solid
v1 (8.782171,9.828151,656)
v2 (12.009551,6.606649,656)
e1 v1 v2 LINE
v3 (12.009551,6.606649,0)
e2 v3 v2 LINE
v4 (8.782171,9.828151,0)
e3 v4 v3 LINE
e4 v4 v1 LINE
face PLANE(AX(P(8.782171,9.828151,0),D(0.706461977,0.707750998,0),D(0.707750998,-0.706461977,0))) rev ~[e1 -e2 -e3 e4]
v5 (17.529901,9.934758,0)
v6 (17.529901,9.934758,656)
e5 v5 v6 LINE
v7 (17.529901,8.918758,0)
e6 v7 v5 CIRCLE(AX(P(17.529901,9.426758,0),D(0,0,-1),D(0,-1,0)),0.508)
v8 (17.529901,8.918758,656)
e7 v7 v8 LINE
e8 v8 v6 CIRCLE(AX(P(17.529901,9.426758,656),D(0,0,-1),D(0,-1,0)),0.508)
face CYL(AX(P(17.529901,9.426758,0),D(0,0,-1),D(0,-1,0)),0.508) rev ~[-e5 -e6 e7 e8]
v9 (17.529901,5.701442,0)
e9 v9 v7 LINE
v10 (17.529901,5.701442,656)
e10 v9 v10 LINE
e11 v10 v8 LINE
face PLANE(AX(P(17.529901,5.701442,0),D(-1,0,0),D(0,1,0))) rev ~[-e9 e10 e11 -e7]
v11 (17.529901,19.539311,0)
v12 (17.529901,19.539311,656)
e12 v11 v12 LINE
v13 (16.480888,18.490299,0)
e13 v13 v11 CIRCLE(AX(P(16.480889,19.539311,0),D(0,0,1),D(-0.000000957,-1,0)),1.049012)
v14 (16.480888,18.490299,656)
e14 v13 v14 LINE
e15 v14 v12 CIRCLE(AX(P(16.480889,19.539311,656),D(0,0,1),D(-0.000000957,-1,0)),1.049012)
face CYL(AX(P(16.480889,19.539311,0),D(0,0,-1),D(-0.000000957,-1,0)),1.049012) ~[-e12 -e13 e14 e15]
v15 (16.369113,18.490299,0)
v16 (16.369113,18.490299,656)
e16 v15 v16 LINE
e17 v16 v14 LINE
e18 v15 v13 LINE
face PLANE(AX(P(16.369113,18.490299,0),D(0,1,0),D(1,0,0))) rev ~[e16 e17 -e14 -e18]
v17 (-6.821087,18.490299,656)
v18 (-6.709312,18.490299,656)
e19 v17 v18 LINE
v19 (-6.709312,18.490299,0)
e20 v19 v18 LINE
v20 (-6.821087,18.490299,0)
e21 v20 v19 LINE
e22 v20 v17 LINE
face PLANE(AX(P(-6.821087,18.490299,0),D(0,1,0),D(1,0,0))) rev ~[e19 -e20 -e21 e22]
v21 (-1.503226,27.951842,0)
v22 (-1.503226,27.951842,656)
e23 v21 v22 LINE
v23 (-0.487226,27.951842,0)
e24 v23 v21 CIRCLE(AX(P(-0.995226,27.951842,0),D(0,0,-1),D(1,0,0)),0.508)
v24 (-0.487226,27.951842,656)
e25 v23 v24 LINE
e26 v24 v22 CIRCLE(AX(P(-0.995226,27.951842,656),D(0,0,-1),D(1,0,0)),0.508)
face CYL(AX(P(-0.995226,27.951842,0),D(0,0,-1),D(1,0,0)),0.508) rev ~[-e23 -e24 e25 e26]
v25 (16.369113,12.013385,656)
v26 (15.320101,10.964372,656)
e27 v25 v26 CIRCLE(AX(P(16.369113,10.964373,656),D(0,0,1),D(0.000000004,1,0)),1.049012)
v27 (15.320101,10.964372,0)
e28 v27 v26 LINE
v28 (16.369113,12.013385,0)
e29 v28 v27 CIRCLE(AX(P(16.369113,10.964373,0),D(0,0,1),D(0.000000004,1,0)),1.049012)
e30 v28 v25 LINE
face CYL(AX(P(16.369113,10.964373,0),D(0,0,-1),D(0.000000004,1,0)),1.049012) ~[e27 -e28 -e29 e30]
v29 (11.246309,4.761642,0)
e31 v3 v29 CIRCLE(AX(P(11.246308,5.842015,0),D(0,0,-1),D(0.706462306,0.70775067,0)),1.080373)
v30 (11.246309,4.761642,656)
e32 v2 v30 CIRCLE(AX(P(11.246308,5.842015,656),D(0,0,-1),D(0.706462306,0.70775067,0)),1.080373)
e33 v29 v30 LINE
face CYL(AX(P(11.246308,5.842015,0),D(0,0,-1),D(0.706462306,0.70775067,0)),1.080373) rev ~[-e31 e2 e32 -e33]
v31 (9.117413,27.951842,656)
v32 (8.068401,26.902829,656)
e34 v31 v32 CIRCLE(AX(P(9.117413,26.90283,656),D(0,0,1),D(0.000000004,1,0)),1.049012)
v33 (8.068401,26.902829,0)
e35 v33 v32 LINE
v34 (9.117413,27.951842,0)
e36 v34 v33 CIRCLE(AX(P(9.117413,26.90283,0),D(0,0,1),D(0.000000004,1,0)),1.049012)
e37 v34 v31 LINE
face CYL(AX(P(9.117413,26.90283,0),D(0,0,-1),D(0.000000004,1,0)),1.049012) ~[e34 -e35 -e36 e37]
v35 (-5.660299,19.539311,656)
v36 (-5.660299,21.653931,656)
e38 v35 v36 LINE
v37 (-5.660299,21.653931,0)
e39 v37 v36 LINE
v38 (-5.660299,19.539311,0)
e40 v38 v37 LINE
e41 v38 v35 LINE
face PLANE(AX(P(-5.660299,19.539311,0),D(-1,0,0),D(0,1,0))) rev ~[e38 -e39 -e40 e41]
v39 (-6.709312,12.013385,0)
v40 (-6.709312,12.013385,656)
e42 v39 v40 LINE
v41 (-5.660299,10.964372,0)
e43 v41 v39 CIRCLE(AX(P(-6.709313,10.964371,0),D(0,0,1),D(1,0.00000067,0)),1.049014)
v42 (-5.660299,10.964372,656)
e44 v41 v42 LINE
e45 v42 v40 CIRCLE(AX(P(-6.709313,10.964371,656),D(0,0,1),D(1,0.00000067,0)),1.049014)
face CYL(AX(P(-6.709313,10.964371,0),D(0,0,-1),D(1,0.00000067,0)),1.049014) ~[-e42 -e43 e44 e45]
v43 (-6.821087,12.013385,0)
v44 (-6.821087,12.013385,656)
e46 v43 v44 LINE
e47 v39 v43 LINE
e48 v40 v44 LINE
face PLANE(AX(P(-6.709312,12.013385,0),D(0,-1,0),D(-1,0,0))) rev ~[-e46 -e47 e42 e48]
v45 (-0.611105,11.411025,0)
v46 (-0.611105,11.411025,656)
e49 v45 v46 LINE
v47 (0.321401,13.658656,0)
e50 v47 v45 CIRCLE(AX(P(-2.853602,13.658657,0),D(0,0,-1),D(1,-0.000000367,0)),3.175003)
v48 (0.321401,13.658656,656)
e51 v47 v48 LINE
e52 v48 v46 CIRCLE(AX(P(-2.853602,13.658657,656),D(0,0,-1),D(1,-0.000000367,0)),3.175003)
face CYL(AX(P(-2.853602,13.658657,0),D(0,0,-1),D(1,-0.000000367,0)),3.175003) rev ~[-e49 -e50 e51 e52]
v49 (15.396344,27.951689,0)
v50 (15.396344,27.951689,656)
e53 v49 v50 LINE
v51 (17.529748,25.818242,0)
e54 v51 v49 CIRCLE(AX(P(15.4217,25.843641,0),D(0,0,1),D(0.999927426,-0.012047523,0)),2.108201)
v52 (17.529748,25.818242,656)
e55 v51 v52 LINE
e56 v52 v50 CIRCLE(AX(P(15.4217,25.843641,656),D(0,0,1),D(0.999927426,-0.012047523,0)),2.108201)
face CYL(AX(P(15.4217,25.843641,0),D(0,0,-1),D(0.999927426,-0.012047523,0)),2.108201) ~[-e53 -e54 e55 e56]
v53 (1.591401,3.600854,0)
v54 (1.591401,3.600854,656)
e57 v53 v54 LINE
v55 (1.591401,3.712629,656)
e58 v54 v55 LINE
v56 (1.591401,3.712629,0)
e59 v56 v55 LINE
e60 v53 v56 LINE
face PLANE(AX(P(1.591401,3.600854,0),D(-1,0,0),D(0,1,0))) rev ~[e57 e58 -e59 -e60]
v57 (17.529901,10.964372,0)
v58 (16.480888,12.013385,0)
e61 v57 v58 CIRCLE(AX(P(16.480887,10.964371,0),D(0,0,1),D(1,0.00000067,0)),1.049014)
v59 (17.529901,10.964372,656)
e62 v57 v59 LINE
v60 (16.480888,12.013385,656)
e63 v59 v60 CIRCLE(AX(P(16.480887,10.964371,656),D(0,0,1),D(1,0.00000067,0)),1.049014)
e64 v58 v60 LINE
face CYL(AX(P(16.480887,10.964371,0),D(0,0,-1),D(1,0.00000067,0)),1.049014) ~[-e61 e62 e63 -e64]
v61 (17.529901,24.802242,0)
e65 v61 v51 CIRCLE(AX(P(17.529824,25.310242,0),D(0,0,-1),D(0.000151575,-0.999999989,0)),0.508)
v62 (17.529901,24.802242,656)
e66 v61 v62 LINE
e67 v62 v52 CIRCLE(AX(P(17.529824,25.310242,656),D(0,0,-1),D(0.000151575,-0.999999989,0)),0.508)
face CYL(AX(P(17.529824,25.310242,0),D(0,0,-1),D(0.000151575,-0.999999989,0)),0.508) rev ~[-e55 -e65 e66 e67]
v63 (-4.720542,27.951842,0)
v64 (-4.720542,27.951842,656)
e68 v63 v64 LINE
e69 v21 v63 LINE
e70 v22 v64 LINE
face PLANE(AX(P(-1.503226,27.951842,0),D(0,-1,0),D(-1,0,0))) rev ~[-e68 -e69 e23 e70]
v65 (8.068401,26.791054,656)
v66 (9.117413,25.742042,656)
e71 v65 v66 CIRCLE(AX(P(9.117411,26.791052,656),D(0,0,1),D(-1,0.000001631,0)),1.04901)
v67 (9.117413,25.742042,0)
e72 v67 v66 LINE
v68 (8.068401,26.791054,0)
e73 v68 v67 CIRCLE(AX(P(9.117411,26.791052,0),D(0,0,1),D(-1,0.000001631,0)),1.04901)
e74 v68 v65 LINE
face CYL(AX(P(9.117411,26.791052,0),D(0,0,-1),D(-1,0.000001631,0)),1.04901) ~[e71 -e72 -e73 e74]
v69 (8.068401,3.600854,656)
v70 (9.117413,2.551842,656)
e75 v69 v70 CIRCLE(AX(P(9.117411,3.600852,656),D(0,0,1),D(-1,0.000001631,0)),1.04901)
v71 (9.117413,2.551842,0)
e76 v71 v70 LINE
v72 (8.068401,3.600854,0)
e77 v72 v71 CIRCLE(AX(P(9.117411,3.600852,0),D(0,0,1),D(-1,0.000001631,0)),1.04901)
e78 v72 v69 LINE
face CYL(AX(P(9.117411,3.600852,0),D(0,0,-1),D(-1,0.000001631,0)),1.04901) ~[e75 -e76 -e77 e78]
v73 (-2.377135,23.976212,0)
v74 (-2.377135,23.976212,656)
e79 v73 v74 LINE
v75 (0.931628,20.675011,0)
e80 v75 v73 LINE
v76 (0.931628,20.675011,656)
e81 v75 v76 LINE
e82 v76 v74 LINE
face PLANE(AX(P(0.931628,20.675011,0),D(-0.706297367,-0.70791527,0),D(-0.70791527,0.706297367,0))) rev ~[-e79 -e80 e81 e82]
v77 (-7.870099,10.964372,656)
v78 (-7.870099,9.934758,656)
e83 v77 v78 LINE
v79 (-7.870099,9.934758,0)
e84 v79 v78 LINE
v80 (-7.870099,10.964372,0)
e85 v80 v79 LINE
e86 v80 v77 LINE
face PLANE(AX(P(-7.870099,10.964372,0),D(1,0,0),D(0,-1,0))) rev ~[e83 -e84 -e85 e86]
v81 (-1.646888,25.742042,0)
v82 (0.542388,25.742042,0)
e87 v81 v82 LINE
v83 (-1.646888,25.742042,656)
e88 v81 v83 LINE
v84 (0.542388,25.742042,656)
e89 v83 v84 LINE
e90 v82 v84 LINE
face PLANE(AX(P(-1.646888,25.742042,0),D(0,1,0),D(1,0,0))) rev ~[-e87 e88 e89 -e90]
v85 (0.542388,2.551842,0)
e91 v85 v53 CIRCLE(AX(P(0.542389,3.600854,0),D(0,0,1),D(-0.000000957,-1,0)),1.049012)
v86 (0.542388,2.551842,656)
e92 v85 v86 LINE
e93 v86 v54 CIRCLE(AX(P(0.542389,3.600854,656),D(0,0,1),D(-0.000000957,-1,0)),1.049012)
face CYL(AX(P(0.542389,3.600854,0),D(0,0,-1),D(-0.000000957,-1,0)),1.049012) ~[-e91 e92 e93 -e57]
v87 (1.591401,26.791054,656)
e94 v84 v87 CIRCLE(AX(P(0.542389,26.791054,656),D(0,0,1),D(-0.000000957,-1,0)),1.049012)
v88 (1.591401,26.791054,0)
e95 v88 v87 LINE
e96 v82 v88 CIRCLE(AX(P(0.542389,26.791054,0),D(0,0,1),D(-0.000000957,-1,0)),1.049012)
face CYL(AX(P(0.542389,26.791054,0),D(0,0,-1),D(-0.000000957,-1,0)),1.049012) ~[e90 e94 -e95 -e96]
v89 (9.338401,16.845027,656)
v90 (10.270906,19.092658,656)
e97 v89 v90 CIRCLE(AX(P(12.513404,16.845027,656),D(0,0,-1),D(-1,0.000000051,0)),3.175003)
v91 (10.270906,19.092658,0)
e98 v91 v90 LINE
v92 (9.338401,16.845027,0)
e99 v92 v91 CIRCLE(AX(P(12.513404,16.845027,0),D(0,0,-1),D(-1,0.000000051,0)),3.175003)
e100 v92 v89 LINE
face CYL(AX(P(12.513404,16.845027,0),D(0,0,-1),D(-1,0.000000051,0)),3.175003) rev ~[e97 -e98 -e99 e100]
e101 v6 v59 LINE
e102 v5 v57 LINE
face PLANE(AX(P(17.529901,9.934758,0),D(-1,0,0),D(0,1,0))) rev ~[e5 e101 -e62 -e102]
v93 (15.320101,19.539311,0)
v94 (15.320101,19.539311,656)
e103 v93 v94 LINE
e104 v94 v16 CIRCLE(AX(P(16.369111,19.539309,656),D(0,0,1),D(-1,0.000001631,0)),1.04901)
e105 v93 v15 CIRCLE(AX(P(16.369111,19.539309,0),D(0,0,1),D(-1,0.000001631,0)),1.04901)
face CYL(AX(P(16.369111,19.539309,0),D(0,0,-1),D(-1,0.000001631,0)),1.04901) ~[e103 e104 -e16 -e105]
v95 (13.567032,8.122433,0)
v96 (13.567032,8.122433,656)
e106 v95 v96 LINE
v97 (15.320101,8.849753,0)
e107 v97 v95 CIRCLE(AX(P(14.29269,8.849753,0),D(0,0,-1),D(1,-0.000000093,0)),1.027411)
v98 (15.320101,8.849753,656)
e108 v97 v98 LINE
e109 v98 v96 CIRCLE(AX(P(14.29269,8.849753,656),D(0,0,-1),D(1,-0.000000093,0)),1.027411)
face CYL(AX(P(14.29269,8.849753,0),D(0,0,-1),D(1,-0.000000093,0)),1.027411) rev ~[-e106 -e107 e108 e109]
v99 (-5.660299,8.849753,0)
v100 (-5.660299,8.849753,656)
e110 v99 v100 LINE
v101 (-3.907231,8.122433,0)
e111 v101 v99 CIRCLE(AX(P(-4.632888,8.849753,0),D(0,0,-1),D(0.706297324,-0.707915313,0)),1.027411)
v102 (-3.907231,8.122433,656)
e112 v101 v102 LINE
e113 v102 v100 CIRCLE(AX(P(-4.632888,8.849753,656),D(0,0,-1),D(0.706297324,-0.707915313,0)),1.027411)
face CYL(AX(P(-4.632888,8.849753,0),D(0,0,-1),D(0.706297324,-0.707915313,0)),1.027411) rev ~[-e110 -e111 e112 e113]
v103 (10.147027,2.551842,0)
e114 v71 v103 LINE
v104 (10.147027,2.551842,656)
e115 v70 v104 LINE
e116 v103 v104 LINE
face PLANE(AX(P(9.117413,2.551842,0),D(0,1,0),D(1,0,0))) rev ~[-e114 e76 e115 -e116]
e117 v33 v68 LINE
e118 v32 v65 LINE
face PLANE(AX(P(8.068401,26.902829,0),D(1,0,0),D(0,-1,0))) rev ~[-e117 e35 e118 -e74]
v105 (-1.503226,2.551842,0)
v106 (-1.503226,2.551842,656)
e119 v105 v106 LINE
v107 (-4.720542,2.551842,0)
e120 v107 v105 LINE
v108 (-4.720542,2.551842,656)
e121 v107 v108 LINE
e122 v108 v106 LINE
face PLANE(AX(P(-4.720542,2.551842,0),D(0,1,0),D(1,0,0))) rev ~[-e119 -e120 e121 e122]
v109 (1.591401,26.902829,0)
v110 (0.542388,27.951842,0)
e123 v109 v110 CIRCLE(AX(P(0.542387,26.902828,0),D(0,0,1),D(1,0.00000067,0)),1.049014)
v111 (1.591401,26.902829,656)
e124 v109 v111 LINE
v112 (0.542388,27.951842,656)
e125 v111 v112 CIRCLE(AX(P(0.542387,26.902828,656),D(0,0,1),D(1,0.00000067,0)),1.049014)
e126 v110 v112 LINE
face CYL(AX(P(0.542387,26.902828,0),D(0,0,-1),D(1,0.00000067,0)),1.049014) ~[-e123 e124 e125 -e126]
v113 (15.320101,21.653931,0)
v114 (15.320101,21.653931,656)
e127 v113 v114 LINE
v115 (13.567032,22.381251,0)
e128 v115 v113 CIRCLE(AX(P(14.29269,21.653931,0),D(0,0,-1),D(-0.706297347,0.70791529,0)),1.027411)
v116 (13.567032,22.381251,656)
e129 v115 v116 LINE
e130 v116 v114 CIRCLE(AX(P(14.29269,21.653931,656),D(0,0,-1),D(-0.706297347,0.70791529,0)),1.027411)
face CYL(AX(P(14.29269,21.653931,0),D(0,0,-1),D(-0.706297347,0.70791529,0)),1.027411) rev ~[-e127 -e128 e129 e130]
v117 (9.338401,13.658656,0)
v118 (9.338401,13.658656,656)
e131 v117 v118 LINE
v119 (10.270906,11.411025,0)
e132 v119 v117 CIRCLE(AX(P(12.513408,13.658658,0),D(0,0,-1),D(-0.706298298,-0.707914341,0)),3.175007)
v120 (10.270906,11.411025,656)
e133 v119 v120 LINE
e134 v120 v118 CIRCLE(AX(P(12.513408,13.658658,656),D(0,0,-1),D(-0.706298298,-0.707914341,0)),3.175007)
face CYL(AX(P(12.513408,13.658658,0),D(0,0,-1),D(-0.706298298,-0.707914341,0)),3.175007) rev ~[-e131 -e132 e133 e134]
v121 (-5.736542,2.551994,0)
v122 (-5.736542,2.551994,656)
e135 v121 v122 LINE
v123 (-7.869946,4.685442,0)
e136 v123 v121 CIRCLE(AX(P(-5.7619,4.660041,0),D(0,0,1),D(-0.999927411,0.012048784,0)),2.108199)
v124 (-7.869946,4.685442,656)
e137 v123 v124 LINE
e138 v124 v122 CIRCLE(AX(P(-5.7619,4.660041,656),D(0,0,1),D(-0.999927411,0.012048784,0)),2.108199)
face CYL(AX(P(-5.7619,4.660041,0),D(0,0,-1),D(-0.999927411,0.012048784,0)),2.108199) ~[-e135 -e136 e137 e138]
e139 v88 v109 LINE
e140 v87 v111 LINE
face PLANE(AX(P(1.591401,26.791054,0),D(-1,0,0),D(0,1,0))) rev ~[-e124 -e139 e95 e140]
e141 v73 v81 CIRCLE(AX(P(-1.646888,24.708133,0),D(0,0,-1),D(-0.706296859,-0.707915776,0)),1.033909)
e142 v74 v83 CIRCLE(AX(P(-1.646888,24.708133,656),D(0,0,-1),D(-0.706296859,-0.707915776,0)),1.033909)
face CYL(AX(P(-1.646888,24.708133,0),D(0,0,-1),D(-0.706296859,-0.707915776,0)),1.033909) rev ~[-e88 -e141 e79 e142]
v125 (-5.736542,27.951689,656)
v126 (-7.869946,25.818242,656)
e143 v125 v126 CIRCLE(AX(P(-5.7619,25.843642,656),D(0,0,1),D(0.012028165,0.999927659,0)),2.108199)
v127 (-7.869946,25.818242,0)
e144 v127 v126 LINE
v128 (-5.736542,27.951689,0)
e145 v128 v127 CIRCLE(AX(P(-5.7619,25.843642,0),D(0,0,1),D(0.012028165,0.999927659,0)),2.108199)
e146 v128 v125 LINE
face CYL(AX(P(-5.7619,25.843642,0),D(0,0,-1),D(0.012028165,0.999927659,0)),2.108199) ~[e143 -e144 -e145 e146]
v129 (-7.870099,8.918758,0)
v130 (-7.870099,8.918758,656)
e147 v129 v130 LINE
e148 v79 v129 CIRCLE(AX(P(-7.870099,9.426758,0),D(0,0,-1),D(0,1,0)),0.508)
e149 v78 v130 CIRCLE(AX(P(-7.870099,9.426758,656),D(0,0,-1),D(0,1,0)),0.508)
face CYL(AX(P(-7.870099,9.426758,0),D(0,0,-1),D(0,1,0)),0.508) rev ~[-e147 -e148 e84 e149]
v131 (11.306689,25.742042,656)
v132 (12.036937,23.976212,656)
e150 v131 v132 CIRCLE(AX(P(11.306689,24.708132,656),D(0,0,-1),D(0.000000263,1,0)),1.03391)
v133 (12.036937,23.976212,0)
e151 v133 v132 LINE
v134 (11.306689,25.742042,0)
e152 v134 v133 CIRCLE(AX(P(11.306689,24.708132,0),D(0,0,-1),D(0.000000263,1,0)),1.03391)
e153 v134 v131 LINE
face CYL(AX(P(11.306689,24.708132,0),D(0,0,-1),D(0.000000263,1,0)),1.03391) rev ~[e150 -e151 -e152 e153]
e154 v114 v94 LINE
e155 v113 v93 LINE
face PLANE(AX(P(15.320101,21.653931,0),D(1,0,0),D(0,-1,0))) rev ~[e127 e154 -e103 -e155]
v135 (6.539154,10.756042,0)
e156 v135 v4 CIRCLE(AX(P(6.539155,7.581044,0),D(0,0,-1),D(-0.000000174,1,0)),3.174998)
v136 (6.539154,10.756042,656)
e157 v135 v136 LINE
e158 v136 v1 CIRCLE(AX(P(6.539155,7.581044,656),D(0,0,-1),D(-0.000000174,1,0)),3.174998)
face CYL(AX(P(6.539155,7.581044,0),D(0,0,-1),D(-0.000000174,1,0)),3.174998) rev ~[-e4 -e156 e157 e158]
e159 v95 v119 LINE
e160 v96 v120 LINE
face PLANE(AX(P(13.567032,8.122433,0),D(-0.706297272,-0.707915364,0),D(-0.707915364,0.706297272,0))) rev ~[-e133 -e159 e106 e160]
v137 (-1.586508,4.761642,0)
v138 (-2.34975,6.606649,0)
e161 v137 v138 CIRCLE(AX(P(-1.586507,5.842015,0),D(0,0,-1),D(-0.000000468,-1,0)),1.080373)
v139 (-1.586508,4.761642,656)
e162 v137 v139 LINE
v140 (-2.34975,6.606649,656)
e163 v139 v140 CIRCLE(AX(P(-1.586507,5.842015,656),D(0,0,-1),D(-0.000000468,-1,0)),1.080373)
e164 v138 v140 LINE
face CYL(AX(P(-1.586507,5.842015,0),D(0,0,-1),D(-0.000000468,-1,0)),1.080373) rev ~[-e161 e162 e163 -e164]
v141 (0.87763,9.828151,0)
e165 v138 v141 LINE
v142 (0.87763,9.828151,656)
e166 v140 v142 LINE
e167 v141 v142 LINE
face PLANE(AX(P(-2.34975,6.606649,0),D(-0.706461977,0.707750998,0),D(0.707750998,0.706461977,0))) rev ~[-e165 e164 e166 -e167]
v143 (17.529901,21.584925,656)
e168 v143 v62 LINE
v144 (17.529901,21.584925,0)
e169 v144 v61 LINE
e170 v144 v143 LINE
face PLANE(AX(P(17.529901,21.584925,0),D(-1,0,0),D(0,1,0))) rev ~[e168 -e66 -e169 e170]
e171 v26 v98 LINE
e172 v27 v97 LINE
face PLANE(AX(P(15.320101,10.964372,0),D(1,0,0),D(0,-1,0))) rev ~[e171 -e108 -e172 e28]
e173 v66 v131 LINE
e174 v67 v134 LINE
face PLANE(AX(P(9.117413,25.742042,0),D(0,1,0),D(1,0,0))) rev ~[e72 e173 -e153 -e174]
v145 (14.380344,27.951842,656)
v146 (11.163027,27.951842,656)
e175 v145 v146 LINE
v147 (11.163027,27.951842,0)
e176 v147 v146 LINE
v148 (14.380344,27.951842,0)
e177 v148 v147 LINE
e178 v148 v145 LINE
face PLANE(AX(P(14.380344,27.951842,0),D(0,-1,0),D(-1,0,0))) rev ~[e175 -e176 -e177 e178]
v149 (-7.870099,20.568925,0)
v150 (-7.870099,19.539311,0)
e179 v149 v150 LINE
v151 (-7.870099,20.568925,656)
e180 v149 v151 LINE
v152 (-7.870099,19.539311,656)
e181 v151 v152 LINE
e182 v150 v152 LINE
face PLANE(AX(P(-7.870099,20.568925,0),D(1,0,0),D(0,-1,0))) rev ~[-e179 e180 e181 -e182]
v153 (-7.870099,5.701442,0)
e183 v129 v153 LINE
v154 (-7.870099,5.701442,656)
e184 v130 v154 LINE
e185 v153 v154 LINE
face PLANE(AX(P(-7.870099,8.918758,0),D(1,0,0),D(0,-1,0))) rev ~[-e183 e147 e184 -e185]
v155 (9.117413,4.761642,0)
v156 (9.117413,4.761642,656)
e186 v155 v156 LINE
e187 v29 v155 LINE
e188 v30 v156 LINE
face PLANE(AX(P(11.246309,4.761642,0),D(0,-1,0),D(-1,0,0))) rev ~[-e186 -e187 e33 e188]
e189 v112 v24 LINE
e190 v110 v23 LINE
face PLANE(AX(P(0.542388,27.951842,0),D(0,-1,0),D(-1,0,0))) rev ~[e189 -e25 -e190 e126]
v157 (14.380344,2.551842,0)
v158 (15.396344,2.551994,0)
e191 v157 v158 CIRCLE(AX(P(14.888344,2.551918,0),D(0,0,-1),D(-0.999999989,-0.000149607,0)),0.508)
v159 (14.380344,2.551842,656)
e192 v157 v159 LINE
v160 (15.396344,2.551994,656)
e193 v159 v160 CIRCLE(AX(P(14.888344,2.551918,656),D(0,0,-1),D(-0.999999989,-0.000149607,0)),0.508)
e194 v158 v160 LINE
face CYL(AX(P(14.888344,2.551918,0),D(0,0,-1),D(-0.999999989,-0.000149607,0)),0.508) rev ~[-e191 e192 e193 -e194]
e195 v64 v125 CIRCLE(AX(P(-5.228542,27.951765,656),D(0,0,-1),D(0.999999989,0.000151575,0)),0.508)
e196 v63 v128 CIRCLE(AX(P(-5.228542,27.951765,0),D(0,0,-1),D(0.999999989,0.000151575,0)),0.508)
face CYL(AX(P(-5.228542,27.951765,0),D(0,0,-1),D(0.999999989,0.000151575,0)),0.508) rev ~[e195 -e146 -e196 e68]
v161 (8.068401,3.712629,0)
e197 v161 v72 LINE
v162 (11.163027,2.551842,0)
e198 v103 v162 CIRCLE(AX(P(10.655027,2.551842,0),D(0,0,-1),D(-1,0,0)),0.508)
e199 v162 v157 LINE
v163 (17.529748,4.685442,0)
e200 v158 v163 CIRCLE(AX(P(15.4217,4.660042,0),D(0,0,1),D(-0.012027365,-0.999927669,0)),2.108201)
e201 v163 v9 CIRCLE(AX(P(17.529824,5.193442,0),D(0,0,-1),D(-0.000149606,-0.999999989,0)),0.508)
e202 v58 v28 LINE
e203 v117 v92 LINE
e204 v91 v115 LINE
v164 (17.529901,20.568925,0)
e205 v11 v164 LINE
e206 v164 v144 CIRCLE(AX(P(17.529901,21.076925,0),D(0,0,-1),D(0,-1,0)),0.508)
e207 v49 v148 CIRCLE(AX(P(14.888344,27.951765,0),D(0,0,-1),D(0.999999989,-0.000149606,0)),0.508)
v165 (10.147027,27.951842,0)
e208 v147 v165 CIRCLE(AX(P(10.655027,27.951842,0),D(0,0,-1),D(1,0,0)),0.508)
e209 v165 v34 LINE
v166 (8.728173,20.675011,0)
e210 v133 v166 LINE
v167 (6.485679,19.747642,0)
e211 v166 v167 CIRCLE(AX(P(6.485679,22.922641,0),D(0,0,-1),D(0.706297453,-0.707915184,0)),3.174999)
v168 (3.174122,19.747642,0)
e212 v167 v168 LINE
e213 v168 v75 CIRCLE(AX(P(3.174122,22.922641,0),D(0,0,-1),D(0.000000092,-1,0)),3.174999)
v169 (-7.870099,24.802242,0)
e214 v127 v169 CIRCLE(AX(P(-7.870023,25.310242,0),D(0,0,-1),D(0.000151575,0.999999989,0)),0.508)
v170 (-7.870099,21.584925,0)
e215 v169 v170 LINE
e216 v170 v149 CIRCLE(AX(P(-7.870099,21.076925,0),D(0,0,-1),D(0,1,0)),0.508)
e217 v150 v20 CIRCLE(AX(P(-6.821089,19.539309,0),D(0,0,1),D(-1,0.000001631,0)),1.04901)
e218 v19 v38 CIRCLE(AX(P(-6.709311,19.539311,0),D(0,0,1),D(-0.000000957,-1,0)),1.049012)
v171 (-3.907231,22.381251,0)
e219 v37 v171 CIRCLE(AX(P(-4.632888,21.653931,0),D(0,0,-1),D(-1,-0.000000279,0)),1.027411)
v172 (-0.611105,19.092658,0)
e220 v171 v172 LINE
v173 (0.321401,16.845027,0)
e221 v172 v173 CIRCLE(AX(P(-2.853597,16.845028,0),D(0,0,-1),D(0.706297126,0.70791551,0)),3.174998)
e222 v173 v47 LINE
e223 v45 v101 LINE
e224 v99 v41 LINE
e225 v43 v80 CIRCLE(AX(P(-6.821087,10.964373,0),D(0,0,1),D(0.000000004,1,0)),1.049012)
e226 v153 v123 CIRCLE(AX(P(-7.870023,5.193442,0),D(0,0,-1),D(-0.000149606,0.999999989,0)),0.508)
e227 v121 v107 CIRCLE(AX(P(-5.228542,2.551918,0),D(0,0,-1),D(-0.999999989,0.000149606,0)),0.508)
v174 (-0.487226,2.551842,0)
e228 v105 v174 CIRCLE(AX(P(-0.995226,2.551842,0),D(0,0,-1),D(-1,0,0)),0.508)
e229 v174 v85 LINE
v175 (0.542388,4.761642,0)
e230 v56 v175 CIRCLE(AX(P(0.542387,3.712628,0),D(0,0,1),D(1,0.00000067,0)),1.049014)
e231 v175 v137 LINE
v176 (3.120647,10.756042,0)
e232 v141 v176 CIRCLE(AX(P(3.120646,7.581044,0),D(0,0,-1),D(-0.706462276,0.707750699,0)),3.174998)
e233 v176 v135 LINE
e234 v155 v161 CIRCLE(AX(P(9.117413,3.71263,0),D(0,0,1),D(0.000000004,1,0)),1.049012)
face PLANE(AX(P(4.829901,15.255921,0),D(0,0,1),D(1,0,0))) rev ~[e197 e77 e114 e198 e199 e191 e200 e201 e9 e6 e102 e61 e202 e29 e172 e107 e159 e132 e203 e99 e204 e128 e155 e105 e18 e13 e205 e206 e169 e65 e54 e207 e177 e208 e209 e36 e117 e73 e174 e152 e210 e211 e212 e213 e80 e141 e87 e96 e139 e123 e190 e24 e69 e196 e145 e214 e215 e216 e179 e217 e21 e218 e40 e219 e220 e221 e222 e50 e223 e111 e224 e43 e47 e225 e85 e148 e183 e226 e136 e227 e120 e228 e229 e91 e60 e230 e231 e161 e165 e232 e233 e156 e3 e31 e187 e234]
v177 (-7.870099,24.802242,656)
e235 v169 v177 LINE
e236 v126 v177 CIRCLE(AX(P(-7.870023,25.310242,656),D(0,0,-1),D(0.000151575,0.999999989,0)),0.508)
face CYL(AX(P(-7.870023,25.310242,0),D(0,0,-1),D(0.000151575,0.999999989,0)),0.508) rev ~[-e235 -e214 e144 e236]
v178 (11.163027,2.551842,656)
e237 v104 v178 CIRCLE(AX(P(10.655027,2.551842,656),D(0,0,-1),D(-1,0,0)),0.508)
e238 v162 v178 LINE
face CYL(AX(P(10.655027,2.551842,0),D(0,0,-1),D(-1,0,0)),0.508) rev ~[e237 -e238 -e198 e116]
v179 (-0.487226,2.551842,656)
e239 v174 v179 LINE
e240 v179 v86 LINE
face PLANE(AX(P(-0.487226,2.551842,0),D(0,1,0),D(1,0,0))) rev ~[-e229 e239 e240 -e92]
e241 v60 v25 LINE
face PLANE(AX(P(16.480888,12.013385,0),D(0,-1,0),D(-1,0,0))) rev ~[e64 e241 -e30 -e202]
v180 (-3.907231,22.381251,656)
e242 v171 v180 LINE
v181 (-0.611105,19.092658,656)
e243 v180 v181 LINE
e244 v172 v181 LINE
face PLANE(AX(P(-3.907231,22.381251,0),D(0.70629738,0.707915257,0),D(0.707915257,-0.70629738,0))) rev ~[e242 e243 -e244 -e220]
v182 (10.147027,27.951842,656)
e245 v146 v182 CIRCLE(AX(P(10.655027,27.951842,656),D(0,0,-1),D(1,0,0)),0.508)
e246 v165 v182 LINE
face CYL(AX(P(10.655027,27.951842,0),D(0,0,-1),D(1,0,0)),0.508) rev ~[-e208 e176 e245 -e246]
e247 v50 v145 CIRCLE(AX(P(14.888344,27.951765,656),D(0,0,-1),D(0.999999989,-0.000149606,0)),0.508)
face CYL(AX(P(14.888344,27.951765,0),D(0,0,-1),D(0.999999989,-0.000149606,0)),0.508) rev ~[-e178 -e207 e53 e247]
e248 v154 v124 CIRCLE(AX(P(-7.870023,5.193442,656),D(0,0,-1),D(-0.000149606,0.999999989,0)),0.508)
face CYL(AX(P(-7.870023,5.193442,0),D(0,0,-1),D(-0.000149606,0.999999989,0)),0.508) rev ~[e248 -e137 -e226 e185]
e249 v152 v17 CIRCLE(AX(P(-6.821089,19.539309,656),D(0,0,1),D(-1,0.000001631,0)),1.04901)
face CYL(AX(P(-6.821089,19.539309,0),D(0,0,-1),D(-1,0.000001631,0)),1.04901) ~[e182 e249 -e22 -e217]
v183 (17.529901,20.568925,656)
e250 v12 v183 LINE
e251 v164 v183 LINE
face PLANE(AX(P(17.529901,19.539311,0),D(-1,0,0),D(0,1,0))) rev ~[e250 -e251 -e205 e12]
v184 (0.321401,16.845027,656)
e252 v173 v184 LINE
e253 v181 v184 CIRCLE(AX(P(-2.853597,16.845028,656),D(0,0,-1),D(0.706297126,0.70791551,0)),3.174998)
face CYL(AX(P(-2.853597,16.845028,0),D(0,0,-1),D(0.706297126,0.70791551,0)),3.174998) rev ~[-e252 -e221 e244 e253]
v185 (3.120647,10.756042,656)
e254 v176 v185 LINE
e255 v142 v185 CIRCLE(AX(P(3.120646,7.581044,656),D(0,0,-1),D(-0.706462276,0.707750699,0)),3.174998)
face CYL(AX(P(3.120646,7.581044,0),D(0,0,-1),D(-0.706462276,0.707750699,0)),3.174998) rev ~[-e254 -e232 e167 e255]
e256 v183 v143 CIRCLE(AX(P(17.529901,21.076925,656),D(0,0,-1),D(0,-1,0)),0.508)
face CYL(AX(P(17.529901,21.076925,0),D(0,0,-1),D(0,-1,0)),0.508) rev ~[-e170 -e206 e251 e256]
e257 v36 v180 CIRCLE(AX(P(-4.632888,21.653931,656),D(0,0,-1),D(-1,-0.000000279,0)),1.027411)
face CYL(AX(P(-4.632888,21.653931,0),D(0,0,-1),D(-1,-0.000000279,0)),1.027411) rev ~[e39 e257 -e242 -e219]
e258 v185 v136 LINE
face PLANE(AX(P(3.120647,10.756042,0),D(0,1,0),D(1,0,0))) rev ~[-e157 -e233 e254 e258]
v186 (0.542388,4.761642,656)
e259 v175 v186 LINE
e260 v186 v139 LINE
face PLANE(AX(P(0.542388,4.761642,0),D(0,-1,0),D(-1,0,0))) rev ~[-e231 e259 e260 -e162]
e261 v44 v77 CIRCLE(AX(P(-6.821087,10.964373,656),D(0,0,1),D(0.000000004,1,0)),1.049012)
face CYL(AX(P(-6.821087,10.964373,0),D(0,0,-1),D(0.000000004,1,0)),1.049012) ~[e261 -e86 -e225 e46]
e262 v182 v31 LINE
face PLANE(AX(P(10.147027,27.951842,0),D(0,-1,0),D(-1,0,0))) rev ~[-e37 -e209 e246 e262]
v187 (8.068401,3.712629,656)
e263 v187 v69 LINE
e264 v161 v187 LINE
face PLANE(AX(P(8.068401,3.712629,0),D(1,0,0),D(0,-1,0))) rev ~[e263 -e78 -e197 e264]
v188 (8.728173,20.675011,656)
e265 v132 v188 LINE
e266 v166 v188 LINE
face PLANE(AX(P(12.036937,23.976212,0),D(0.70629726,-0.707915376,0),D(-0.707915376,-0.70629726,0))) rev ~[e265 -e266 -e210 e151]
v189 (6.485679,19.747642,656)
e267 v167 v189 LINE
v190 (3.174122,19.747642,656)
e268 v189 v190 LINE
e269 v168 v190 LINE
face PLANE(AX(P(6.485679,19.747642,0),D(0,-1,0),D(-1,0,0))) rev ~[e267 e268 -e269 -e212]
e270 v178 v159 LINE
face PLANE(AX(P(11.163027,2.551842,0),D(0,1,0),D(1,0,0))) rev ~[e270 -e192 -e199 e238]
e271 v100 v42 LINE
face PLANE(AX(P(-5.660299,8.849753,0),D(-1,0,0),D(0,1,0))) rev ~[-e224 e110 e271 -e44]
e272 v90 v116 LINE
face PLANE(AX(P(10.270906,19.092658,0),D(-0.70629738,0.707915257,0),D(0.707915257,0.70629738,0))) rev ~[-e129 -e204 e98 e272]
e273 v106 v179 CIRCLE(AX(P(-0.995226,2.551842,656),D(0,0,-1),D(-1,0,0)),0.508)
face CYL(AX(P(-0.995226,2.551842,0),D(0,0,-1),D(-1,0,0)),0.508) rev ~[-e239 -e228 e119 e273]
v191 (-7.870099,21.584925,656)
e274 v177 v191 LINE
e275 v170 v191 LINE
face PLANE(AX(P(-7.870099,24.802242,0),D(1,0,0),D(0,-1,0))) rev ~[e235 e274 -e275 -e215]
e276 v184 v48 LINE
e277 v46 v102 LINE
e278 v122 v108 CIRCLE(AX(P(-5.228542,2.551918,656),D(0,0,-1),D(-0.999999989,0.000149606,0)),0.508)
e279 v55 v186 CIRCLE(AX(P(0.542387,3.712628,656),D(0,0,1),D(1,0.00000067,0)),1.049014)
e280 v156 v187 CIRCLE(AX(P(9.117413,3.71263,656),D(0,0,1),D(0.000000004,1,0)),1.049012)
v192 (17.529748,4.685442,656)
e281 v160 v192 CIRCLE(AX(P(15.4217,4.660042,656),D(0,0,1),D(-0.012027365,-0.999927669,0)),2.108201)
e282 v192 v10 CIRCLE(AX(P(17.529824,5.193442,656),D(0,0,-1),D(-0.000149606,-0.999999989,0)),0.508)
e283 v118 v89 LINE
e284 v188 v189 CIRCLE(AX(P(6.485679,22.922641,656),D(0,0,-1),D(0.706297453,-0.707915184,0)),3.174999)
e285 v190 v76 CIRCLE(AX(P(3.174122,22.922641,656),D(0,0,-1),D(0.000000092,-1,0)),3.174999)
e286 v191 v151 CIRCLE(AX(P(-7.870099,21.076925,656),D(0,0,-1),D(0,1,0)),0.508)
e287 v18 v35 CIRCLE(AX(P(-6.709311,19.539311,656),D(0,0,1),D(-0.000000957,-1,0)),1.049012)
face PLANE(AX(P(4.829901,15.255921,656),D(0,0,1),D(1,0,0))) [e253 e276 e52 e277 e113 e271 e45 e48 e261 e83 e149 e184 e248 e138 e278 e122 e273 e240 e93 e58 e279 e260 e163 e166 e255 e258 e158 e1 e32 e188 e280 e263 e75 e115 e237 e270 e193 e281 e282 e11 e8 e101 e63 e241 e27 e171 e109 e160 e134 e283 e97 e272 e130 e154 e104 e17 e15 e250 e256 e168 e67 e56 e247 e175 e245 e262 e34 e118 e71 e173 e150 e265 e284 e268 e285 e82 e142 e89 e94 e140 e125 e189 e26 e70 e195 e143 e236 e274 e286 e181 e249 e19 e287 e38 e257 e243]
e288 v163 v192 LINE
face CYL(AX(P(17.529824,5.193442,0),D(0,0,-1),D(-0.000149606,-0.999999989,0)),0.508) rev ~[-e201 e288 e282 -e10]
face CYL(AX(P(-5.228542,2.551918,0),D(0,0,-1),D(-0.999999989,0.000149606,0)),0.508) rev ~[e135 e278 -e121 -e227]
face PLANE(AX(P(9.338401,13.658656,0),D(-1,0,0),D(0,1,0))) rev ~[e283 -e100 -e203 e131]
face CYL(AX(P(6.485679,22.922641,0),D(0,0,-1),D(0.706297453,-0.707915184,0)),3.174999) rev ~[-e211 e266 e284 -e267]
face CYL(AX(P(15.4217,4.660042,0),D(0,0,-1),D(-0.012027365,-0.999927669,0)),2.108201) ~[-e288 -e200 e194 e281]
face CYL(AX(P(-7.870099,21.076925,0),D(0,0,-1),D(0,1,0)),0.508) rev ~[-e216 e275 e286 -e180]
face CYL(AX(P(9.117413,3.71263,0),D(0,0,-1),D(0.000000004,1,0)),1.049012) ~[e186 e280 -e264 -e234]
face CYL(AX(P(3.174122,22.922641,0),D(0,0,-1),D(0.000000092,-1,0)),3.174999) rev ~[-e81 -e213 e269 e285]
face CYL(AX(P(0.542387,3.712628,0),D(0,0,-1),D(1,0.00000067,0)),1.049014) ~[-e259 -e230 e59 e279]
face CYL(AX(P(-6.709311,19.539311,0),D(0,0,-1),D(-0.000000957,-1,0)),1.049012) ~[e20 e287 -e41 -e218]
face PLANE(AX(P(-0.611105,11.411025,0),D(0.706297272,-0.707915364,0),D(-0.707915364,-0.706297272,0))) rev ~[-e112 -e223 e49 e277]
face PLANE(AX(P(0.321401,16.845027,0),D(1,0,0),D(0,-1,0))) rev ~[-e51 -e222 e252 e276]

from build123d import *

# Parameters (mm, degrees)
F1_DEPTH = 656


with BuildPart() as f1:
    # F0 (on Top) → F1 (new body)
    with BuildSketch(Plane.XY):
        with BuildLine():
            ThreePointArc((-5.660299, 21.653931), (-5.026604, 22.60291), (-3.907231, 22.381251))
            Line((-3.907231, 22.381251), (-0.611105, 19.092658))
            ThreePointArc((-0.611105, 19.092658), (0.079023, 18.061725), (0.321401, 16.845027))
            Line((0.321401, 16.845027), (0.321401, 13.658656))
            ThreePointArc((0.321401, 13.658656), (0.079023, 12.441959), (-0.611105, 11.411025))
            Line((-0.611105, 11.411025), (-3.907231, 8.122433))
            ThreePointArc((-3.907231, 8.122433), (-5.026604, 7.900774), (-5.660299, 8.849753))
            Line((-5.660299, 8.849753), (-5.660299, 10.964372))
            ThreePointArc((-5.660299, 10.964372), (-5.967548, 11.706136), (-6.709312, 12.013385))
            Line((-6.709312, 12.013385), (-6.821087, 12.013385))
            ThreePointArc((-6.821087, 12.013385), (-7.562851, 11.706136), (-7.870099, 10.964372))
            Line((-7.870099, 10.964372), (-7.870099, 9.934758))
            ThreePointArc((-7.870099, 9.934758), (-7.362099, 9.426758), (-7.870099, 8.918758))
            Line((-7.870099, 8.918758), (-7.870099, 5.701442))
            ThreePointArc((-7.870099, 5.701442), (-7.362023, 5.193518), (-7.869946, 4.685442))
            ThreePointArc((-7.869946, 4.685442), (-7.252637, 3.169334), (-5.736542, 2.551994))
            ThreePointArc((-5.736542, 2.551994), (-5.228466, 3.059918), (-4.720542, 2.551842))
            Line((-4.720542, 2.551842), (-1.503226, 2.551842))
            ThreePointArc((-1.503226, 2.551842), (-0.995226, 3.059842), (-0.487226, 2.551842))
            Line((-0.487226, 2.551842), (0.542388, 2.551842))
            ThreePointArc((0.542388, 2.551842), (1.284152, 2.85909), (1.591401, 3.600854))
            Line((1.591401, 3.600854), (1.591401, 3.712629))
            ThreePointArc((1.591401, 3.712629), (1.284152, 4.454393), (0.542388, 4.761642))
            Line((0.542388, 4.761642), (-1.586508, 4.761642))
            ThreePointArc((-1.586508, 4.761642), (-2.58483, 5.429029), (-2.34975, 6.606649))
            Line((-2.34975, 6.606649), (0.87763, 9.828151))
            ThreePointArc((0.87763, 9.828151), (1.906964, 10.514913), (3.120647, 10.756042))
            Line((3.120647, 10.756042), (6.539154, 10.756042))
            ThreePointArc((6.539154, 10.756042), (7.752837, 10.514913), (8.782171, 9.828151))
            Line((8.782171, 9.828151), (12.009551, 6.606649))
            ThreePointArc((12.009551, 6.606649), (12.244631, 5.429029), (11.246309, 4.761642))
            Line((11.246309, 4.761642), (9.117413, 4.761642))
            ThreePointArc((9.117413, 4.761642), (8.375649, 4.454393), (8.068401, 3.712629))
            Line((8.068401, 3.712629), (8.068401, 3.600854))
            ThreePointArc((8.068401, 3.600854), (8.375649, 2.85909), (9.117413, 2.551842))
            Line((9.117413, 2.551842), (10.147027, 2.551842))
            ThreePointArc((10.147027, 2.551842), (10.655027, 3.059842), (11.163027, 2.551842))
            Line((11.163027, 2.551842), (14.380344, 2.551842))
            ThreePointArc((14.380344, 2.551842), (14.888267, 3.059918), (15.396344, 2.551994))
            ThreePointArc((15.396344, 2.551994), (16.912438, 3.169334), (17.529748, 4.685442))
            ThreePointArc((17.529748, 4.685442), (17.021824, 5.193518), (17.529901, 5.701442))
            Line((17.529901, 5.701442), (17.529901, 8.918758))
            ThreePointArc((17.529901, 8.918758), (17.021901, 9.426758), (17.529901, 9.934758))
            Line((17.529901, 9.934758), (17.529901, 10.964372))
            ThreePointArc((17.529901, 10.964372), (17.222652, 11.706136), (16.480888, 12.013385))
            Line((16.480888, 12.013385), (16.369113, 12.013385))
            ThreePointArc((16.369113, 12.013385), (15.627349, 11.706136), (15.320101, 10.964372))
            Line((15.320101, 10.964372), (15.320101, 8.849753))
            ThreePointArc((15.320101, 8.849753), (14.686406, 7.900774), (13.567032, 8.122433))
            Line((13.567032, 8.122433), (10.270906, 11.411025))
            ThreePointArc((10.270906, 11.411025), (9.580779, 12.441959), (9.338401, 13.658656))
            Line((9.338401, 13.658656), (9.338401, 16.845027))
            ThreePointArc((9.338401, 16.845027), (9.580779, 18.061725), (10.270906, 19.092658))
            Line((10.270906, 19.092658), (13.567032, 22.381251))
            ThreePointArc((13.567032, 22.381251), (14.686406, 22.60291), (15.320101, 21.653931))
            Line((15.320101, 21.653931), (15.320101, 19.539311))
            ThreePointArc((15.320101, 19.539311), (15.627349, 18.797547), (16.369113, 18.490299))
            Line((16.369113, 18.490299), (16.480888, 18.490299))
            ThreePointArc((16.480888, 18.490299), (17.222652, 18.797547), (17.529901, 19.539311))
            Line((17.529901, 19.539311), (17.529901, 20.568925))
            ThreePointArc((17.529901, 20.568925), (17.021901, 21.076925), (17.529901, 21.584925))
            Line((17.529901, 21.584925), (17.529901, 24.802242))
            ThreePointArc((17.529901, 24.802242), (17.021824, 25.310165), (17.529748, 25.818242))
            ThreePointArc((17.529748, 25.818242), (16.912438, 27.334349), (15.396344, 27.951689))
            ThreePointArc((15.396344, 27.951689), (14.888267, 27.443765), (14.380344, 27.951842))
            Line((14.380344, 27.951842), (11.163027, 27.951842))
            ThreePointArc((11.163027, 27.951842), (10.655027, 27.443842), (10.147027, 27.951842))
            Line((10.147027, 27.951842), (9.117413, 27.951842))
            ThreePointArc((9.117413, 27.951842), (8.375649, 27.644593), (8.068401, 26.902829))
            Line((8.068401, 26.902829), (8.068401, 26.791054))
            ThreePointArc((8.068401, 26.791054), (8.375649, 26.04929), (9.117413, 25.742042))
            Line((9.117413, 25.742042), (11.306689, 25.742042))
            ThreePointArc((11.306689, 25.742042), (12.262123, 25.103246), (12.036937, 23.976212))
            Line((12.036937, 23.976212), (8.728173, 20.675011))
            ThreePointArc((8.728173, 20.675011), (7.699021, 19.98863), (6.485679, 19.747642))
            Line((6.485679, 19.747642), (3.174122, 19.747642))
            ThreePointArc((3.174122, 19.747642), (1.96078, 19.98863), (0.931628, 20.675011))
            Line((0.931628, 20.675011), (-2.377135, 23.976212))
            ThreePointArc((-2.377135, 23.976212), (-2.602322, 25.103246), (-1.646888, 25.742042))
            Line((-1.646888, 25.742042), (0.542388, 25.742042))
            ThreePointArc((0.542388, 25.742042), (1.284152, 26.04929), (1.591401, 26.791054))
            Line((1.591401, 26.791054), (1.591401, 26.902829))
            ThreePointArc((1.591401, 26.902829), (1.284152, 27.644593), (0.542388, 27.951842))
            Line((0.542388, 27.951842), (-0.487226, 27.951842))
            ThreePointArc((-0.487226, 27.951842), (-0.995226, 27.443842), (-1.503226, 27.951842))
            Line((-1.503226, 27.951842), (-4.720542, 27.951842))
            ThreePointArc((-4.720542, 27.951842), (-5.228466, 27.443765), (-5.736542, 27.951689))
            ThreePointArc((-5.736542, 27.951689), (-7.252637, 27.334349), (-7.869946, 25.818242))
            ThreePointArc((-7.869946, 25.818242), (-7.362023, 25.310165), (-7.870099, 24.802242))
            Line((-7.870099, 24.802242), (-7.870099, 21.584925))
            ThreePointArc((-7.870099, 21.584925), (-7.362099, 21.076925), (-7.870099, 20.568925))
            Line((-7.870099, 20.568925), (-7.870099, 19.539311))
            ThreePointArc((-7.870099, 19.539311), (-7.562851, 18.797547), (-6.821087, 18.490299))
            Line((-6.821087, 18.490299), (-6.709312, 18.490299))
            ThreePointArc((-6.709312, 18.490299), (-5.967548, 18.797547), (-5.660299, 19.539311))
            Line((-5.660299, 19.539311), (-5.660299, 21.653931))
        make_face()
    extrude(amount=F1_DEPTH)


solid = f1.part
